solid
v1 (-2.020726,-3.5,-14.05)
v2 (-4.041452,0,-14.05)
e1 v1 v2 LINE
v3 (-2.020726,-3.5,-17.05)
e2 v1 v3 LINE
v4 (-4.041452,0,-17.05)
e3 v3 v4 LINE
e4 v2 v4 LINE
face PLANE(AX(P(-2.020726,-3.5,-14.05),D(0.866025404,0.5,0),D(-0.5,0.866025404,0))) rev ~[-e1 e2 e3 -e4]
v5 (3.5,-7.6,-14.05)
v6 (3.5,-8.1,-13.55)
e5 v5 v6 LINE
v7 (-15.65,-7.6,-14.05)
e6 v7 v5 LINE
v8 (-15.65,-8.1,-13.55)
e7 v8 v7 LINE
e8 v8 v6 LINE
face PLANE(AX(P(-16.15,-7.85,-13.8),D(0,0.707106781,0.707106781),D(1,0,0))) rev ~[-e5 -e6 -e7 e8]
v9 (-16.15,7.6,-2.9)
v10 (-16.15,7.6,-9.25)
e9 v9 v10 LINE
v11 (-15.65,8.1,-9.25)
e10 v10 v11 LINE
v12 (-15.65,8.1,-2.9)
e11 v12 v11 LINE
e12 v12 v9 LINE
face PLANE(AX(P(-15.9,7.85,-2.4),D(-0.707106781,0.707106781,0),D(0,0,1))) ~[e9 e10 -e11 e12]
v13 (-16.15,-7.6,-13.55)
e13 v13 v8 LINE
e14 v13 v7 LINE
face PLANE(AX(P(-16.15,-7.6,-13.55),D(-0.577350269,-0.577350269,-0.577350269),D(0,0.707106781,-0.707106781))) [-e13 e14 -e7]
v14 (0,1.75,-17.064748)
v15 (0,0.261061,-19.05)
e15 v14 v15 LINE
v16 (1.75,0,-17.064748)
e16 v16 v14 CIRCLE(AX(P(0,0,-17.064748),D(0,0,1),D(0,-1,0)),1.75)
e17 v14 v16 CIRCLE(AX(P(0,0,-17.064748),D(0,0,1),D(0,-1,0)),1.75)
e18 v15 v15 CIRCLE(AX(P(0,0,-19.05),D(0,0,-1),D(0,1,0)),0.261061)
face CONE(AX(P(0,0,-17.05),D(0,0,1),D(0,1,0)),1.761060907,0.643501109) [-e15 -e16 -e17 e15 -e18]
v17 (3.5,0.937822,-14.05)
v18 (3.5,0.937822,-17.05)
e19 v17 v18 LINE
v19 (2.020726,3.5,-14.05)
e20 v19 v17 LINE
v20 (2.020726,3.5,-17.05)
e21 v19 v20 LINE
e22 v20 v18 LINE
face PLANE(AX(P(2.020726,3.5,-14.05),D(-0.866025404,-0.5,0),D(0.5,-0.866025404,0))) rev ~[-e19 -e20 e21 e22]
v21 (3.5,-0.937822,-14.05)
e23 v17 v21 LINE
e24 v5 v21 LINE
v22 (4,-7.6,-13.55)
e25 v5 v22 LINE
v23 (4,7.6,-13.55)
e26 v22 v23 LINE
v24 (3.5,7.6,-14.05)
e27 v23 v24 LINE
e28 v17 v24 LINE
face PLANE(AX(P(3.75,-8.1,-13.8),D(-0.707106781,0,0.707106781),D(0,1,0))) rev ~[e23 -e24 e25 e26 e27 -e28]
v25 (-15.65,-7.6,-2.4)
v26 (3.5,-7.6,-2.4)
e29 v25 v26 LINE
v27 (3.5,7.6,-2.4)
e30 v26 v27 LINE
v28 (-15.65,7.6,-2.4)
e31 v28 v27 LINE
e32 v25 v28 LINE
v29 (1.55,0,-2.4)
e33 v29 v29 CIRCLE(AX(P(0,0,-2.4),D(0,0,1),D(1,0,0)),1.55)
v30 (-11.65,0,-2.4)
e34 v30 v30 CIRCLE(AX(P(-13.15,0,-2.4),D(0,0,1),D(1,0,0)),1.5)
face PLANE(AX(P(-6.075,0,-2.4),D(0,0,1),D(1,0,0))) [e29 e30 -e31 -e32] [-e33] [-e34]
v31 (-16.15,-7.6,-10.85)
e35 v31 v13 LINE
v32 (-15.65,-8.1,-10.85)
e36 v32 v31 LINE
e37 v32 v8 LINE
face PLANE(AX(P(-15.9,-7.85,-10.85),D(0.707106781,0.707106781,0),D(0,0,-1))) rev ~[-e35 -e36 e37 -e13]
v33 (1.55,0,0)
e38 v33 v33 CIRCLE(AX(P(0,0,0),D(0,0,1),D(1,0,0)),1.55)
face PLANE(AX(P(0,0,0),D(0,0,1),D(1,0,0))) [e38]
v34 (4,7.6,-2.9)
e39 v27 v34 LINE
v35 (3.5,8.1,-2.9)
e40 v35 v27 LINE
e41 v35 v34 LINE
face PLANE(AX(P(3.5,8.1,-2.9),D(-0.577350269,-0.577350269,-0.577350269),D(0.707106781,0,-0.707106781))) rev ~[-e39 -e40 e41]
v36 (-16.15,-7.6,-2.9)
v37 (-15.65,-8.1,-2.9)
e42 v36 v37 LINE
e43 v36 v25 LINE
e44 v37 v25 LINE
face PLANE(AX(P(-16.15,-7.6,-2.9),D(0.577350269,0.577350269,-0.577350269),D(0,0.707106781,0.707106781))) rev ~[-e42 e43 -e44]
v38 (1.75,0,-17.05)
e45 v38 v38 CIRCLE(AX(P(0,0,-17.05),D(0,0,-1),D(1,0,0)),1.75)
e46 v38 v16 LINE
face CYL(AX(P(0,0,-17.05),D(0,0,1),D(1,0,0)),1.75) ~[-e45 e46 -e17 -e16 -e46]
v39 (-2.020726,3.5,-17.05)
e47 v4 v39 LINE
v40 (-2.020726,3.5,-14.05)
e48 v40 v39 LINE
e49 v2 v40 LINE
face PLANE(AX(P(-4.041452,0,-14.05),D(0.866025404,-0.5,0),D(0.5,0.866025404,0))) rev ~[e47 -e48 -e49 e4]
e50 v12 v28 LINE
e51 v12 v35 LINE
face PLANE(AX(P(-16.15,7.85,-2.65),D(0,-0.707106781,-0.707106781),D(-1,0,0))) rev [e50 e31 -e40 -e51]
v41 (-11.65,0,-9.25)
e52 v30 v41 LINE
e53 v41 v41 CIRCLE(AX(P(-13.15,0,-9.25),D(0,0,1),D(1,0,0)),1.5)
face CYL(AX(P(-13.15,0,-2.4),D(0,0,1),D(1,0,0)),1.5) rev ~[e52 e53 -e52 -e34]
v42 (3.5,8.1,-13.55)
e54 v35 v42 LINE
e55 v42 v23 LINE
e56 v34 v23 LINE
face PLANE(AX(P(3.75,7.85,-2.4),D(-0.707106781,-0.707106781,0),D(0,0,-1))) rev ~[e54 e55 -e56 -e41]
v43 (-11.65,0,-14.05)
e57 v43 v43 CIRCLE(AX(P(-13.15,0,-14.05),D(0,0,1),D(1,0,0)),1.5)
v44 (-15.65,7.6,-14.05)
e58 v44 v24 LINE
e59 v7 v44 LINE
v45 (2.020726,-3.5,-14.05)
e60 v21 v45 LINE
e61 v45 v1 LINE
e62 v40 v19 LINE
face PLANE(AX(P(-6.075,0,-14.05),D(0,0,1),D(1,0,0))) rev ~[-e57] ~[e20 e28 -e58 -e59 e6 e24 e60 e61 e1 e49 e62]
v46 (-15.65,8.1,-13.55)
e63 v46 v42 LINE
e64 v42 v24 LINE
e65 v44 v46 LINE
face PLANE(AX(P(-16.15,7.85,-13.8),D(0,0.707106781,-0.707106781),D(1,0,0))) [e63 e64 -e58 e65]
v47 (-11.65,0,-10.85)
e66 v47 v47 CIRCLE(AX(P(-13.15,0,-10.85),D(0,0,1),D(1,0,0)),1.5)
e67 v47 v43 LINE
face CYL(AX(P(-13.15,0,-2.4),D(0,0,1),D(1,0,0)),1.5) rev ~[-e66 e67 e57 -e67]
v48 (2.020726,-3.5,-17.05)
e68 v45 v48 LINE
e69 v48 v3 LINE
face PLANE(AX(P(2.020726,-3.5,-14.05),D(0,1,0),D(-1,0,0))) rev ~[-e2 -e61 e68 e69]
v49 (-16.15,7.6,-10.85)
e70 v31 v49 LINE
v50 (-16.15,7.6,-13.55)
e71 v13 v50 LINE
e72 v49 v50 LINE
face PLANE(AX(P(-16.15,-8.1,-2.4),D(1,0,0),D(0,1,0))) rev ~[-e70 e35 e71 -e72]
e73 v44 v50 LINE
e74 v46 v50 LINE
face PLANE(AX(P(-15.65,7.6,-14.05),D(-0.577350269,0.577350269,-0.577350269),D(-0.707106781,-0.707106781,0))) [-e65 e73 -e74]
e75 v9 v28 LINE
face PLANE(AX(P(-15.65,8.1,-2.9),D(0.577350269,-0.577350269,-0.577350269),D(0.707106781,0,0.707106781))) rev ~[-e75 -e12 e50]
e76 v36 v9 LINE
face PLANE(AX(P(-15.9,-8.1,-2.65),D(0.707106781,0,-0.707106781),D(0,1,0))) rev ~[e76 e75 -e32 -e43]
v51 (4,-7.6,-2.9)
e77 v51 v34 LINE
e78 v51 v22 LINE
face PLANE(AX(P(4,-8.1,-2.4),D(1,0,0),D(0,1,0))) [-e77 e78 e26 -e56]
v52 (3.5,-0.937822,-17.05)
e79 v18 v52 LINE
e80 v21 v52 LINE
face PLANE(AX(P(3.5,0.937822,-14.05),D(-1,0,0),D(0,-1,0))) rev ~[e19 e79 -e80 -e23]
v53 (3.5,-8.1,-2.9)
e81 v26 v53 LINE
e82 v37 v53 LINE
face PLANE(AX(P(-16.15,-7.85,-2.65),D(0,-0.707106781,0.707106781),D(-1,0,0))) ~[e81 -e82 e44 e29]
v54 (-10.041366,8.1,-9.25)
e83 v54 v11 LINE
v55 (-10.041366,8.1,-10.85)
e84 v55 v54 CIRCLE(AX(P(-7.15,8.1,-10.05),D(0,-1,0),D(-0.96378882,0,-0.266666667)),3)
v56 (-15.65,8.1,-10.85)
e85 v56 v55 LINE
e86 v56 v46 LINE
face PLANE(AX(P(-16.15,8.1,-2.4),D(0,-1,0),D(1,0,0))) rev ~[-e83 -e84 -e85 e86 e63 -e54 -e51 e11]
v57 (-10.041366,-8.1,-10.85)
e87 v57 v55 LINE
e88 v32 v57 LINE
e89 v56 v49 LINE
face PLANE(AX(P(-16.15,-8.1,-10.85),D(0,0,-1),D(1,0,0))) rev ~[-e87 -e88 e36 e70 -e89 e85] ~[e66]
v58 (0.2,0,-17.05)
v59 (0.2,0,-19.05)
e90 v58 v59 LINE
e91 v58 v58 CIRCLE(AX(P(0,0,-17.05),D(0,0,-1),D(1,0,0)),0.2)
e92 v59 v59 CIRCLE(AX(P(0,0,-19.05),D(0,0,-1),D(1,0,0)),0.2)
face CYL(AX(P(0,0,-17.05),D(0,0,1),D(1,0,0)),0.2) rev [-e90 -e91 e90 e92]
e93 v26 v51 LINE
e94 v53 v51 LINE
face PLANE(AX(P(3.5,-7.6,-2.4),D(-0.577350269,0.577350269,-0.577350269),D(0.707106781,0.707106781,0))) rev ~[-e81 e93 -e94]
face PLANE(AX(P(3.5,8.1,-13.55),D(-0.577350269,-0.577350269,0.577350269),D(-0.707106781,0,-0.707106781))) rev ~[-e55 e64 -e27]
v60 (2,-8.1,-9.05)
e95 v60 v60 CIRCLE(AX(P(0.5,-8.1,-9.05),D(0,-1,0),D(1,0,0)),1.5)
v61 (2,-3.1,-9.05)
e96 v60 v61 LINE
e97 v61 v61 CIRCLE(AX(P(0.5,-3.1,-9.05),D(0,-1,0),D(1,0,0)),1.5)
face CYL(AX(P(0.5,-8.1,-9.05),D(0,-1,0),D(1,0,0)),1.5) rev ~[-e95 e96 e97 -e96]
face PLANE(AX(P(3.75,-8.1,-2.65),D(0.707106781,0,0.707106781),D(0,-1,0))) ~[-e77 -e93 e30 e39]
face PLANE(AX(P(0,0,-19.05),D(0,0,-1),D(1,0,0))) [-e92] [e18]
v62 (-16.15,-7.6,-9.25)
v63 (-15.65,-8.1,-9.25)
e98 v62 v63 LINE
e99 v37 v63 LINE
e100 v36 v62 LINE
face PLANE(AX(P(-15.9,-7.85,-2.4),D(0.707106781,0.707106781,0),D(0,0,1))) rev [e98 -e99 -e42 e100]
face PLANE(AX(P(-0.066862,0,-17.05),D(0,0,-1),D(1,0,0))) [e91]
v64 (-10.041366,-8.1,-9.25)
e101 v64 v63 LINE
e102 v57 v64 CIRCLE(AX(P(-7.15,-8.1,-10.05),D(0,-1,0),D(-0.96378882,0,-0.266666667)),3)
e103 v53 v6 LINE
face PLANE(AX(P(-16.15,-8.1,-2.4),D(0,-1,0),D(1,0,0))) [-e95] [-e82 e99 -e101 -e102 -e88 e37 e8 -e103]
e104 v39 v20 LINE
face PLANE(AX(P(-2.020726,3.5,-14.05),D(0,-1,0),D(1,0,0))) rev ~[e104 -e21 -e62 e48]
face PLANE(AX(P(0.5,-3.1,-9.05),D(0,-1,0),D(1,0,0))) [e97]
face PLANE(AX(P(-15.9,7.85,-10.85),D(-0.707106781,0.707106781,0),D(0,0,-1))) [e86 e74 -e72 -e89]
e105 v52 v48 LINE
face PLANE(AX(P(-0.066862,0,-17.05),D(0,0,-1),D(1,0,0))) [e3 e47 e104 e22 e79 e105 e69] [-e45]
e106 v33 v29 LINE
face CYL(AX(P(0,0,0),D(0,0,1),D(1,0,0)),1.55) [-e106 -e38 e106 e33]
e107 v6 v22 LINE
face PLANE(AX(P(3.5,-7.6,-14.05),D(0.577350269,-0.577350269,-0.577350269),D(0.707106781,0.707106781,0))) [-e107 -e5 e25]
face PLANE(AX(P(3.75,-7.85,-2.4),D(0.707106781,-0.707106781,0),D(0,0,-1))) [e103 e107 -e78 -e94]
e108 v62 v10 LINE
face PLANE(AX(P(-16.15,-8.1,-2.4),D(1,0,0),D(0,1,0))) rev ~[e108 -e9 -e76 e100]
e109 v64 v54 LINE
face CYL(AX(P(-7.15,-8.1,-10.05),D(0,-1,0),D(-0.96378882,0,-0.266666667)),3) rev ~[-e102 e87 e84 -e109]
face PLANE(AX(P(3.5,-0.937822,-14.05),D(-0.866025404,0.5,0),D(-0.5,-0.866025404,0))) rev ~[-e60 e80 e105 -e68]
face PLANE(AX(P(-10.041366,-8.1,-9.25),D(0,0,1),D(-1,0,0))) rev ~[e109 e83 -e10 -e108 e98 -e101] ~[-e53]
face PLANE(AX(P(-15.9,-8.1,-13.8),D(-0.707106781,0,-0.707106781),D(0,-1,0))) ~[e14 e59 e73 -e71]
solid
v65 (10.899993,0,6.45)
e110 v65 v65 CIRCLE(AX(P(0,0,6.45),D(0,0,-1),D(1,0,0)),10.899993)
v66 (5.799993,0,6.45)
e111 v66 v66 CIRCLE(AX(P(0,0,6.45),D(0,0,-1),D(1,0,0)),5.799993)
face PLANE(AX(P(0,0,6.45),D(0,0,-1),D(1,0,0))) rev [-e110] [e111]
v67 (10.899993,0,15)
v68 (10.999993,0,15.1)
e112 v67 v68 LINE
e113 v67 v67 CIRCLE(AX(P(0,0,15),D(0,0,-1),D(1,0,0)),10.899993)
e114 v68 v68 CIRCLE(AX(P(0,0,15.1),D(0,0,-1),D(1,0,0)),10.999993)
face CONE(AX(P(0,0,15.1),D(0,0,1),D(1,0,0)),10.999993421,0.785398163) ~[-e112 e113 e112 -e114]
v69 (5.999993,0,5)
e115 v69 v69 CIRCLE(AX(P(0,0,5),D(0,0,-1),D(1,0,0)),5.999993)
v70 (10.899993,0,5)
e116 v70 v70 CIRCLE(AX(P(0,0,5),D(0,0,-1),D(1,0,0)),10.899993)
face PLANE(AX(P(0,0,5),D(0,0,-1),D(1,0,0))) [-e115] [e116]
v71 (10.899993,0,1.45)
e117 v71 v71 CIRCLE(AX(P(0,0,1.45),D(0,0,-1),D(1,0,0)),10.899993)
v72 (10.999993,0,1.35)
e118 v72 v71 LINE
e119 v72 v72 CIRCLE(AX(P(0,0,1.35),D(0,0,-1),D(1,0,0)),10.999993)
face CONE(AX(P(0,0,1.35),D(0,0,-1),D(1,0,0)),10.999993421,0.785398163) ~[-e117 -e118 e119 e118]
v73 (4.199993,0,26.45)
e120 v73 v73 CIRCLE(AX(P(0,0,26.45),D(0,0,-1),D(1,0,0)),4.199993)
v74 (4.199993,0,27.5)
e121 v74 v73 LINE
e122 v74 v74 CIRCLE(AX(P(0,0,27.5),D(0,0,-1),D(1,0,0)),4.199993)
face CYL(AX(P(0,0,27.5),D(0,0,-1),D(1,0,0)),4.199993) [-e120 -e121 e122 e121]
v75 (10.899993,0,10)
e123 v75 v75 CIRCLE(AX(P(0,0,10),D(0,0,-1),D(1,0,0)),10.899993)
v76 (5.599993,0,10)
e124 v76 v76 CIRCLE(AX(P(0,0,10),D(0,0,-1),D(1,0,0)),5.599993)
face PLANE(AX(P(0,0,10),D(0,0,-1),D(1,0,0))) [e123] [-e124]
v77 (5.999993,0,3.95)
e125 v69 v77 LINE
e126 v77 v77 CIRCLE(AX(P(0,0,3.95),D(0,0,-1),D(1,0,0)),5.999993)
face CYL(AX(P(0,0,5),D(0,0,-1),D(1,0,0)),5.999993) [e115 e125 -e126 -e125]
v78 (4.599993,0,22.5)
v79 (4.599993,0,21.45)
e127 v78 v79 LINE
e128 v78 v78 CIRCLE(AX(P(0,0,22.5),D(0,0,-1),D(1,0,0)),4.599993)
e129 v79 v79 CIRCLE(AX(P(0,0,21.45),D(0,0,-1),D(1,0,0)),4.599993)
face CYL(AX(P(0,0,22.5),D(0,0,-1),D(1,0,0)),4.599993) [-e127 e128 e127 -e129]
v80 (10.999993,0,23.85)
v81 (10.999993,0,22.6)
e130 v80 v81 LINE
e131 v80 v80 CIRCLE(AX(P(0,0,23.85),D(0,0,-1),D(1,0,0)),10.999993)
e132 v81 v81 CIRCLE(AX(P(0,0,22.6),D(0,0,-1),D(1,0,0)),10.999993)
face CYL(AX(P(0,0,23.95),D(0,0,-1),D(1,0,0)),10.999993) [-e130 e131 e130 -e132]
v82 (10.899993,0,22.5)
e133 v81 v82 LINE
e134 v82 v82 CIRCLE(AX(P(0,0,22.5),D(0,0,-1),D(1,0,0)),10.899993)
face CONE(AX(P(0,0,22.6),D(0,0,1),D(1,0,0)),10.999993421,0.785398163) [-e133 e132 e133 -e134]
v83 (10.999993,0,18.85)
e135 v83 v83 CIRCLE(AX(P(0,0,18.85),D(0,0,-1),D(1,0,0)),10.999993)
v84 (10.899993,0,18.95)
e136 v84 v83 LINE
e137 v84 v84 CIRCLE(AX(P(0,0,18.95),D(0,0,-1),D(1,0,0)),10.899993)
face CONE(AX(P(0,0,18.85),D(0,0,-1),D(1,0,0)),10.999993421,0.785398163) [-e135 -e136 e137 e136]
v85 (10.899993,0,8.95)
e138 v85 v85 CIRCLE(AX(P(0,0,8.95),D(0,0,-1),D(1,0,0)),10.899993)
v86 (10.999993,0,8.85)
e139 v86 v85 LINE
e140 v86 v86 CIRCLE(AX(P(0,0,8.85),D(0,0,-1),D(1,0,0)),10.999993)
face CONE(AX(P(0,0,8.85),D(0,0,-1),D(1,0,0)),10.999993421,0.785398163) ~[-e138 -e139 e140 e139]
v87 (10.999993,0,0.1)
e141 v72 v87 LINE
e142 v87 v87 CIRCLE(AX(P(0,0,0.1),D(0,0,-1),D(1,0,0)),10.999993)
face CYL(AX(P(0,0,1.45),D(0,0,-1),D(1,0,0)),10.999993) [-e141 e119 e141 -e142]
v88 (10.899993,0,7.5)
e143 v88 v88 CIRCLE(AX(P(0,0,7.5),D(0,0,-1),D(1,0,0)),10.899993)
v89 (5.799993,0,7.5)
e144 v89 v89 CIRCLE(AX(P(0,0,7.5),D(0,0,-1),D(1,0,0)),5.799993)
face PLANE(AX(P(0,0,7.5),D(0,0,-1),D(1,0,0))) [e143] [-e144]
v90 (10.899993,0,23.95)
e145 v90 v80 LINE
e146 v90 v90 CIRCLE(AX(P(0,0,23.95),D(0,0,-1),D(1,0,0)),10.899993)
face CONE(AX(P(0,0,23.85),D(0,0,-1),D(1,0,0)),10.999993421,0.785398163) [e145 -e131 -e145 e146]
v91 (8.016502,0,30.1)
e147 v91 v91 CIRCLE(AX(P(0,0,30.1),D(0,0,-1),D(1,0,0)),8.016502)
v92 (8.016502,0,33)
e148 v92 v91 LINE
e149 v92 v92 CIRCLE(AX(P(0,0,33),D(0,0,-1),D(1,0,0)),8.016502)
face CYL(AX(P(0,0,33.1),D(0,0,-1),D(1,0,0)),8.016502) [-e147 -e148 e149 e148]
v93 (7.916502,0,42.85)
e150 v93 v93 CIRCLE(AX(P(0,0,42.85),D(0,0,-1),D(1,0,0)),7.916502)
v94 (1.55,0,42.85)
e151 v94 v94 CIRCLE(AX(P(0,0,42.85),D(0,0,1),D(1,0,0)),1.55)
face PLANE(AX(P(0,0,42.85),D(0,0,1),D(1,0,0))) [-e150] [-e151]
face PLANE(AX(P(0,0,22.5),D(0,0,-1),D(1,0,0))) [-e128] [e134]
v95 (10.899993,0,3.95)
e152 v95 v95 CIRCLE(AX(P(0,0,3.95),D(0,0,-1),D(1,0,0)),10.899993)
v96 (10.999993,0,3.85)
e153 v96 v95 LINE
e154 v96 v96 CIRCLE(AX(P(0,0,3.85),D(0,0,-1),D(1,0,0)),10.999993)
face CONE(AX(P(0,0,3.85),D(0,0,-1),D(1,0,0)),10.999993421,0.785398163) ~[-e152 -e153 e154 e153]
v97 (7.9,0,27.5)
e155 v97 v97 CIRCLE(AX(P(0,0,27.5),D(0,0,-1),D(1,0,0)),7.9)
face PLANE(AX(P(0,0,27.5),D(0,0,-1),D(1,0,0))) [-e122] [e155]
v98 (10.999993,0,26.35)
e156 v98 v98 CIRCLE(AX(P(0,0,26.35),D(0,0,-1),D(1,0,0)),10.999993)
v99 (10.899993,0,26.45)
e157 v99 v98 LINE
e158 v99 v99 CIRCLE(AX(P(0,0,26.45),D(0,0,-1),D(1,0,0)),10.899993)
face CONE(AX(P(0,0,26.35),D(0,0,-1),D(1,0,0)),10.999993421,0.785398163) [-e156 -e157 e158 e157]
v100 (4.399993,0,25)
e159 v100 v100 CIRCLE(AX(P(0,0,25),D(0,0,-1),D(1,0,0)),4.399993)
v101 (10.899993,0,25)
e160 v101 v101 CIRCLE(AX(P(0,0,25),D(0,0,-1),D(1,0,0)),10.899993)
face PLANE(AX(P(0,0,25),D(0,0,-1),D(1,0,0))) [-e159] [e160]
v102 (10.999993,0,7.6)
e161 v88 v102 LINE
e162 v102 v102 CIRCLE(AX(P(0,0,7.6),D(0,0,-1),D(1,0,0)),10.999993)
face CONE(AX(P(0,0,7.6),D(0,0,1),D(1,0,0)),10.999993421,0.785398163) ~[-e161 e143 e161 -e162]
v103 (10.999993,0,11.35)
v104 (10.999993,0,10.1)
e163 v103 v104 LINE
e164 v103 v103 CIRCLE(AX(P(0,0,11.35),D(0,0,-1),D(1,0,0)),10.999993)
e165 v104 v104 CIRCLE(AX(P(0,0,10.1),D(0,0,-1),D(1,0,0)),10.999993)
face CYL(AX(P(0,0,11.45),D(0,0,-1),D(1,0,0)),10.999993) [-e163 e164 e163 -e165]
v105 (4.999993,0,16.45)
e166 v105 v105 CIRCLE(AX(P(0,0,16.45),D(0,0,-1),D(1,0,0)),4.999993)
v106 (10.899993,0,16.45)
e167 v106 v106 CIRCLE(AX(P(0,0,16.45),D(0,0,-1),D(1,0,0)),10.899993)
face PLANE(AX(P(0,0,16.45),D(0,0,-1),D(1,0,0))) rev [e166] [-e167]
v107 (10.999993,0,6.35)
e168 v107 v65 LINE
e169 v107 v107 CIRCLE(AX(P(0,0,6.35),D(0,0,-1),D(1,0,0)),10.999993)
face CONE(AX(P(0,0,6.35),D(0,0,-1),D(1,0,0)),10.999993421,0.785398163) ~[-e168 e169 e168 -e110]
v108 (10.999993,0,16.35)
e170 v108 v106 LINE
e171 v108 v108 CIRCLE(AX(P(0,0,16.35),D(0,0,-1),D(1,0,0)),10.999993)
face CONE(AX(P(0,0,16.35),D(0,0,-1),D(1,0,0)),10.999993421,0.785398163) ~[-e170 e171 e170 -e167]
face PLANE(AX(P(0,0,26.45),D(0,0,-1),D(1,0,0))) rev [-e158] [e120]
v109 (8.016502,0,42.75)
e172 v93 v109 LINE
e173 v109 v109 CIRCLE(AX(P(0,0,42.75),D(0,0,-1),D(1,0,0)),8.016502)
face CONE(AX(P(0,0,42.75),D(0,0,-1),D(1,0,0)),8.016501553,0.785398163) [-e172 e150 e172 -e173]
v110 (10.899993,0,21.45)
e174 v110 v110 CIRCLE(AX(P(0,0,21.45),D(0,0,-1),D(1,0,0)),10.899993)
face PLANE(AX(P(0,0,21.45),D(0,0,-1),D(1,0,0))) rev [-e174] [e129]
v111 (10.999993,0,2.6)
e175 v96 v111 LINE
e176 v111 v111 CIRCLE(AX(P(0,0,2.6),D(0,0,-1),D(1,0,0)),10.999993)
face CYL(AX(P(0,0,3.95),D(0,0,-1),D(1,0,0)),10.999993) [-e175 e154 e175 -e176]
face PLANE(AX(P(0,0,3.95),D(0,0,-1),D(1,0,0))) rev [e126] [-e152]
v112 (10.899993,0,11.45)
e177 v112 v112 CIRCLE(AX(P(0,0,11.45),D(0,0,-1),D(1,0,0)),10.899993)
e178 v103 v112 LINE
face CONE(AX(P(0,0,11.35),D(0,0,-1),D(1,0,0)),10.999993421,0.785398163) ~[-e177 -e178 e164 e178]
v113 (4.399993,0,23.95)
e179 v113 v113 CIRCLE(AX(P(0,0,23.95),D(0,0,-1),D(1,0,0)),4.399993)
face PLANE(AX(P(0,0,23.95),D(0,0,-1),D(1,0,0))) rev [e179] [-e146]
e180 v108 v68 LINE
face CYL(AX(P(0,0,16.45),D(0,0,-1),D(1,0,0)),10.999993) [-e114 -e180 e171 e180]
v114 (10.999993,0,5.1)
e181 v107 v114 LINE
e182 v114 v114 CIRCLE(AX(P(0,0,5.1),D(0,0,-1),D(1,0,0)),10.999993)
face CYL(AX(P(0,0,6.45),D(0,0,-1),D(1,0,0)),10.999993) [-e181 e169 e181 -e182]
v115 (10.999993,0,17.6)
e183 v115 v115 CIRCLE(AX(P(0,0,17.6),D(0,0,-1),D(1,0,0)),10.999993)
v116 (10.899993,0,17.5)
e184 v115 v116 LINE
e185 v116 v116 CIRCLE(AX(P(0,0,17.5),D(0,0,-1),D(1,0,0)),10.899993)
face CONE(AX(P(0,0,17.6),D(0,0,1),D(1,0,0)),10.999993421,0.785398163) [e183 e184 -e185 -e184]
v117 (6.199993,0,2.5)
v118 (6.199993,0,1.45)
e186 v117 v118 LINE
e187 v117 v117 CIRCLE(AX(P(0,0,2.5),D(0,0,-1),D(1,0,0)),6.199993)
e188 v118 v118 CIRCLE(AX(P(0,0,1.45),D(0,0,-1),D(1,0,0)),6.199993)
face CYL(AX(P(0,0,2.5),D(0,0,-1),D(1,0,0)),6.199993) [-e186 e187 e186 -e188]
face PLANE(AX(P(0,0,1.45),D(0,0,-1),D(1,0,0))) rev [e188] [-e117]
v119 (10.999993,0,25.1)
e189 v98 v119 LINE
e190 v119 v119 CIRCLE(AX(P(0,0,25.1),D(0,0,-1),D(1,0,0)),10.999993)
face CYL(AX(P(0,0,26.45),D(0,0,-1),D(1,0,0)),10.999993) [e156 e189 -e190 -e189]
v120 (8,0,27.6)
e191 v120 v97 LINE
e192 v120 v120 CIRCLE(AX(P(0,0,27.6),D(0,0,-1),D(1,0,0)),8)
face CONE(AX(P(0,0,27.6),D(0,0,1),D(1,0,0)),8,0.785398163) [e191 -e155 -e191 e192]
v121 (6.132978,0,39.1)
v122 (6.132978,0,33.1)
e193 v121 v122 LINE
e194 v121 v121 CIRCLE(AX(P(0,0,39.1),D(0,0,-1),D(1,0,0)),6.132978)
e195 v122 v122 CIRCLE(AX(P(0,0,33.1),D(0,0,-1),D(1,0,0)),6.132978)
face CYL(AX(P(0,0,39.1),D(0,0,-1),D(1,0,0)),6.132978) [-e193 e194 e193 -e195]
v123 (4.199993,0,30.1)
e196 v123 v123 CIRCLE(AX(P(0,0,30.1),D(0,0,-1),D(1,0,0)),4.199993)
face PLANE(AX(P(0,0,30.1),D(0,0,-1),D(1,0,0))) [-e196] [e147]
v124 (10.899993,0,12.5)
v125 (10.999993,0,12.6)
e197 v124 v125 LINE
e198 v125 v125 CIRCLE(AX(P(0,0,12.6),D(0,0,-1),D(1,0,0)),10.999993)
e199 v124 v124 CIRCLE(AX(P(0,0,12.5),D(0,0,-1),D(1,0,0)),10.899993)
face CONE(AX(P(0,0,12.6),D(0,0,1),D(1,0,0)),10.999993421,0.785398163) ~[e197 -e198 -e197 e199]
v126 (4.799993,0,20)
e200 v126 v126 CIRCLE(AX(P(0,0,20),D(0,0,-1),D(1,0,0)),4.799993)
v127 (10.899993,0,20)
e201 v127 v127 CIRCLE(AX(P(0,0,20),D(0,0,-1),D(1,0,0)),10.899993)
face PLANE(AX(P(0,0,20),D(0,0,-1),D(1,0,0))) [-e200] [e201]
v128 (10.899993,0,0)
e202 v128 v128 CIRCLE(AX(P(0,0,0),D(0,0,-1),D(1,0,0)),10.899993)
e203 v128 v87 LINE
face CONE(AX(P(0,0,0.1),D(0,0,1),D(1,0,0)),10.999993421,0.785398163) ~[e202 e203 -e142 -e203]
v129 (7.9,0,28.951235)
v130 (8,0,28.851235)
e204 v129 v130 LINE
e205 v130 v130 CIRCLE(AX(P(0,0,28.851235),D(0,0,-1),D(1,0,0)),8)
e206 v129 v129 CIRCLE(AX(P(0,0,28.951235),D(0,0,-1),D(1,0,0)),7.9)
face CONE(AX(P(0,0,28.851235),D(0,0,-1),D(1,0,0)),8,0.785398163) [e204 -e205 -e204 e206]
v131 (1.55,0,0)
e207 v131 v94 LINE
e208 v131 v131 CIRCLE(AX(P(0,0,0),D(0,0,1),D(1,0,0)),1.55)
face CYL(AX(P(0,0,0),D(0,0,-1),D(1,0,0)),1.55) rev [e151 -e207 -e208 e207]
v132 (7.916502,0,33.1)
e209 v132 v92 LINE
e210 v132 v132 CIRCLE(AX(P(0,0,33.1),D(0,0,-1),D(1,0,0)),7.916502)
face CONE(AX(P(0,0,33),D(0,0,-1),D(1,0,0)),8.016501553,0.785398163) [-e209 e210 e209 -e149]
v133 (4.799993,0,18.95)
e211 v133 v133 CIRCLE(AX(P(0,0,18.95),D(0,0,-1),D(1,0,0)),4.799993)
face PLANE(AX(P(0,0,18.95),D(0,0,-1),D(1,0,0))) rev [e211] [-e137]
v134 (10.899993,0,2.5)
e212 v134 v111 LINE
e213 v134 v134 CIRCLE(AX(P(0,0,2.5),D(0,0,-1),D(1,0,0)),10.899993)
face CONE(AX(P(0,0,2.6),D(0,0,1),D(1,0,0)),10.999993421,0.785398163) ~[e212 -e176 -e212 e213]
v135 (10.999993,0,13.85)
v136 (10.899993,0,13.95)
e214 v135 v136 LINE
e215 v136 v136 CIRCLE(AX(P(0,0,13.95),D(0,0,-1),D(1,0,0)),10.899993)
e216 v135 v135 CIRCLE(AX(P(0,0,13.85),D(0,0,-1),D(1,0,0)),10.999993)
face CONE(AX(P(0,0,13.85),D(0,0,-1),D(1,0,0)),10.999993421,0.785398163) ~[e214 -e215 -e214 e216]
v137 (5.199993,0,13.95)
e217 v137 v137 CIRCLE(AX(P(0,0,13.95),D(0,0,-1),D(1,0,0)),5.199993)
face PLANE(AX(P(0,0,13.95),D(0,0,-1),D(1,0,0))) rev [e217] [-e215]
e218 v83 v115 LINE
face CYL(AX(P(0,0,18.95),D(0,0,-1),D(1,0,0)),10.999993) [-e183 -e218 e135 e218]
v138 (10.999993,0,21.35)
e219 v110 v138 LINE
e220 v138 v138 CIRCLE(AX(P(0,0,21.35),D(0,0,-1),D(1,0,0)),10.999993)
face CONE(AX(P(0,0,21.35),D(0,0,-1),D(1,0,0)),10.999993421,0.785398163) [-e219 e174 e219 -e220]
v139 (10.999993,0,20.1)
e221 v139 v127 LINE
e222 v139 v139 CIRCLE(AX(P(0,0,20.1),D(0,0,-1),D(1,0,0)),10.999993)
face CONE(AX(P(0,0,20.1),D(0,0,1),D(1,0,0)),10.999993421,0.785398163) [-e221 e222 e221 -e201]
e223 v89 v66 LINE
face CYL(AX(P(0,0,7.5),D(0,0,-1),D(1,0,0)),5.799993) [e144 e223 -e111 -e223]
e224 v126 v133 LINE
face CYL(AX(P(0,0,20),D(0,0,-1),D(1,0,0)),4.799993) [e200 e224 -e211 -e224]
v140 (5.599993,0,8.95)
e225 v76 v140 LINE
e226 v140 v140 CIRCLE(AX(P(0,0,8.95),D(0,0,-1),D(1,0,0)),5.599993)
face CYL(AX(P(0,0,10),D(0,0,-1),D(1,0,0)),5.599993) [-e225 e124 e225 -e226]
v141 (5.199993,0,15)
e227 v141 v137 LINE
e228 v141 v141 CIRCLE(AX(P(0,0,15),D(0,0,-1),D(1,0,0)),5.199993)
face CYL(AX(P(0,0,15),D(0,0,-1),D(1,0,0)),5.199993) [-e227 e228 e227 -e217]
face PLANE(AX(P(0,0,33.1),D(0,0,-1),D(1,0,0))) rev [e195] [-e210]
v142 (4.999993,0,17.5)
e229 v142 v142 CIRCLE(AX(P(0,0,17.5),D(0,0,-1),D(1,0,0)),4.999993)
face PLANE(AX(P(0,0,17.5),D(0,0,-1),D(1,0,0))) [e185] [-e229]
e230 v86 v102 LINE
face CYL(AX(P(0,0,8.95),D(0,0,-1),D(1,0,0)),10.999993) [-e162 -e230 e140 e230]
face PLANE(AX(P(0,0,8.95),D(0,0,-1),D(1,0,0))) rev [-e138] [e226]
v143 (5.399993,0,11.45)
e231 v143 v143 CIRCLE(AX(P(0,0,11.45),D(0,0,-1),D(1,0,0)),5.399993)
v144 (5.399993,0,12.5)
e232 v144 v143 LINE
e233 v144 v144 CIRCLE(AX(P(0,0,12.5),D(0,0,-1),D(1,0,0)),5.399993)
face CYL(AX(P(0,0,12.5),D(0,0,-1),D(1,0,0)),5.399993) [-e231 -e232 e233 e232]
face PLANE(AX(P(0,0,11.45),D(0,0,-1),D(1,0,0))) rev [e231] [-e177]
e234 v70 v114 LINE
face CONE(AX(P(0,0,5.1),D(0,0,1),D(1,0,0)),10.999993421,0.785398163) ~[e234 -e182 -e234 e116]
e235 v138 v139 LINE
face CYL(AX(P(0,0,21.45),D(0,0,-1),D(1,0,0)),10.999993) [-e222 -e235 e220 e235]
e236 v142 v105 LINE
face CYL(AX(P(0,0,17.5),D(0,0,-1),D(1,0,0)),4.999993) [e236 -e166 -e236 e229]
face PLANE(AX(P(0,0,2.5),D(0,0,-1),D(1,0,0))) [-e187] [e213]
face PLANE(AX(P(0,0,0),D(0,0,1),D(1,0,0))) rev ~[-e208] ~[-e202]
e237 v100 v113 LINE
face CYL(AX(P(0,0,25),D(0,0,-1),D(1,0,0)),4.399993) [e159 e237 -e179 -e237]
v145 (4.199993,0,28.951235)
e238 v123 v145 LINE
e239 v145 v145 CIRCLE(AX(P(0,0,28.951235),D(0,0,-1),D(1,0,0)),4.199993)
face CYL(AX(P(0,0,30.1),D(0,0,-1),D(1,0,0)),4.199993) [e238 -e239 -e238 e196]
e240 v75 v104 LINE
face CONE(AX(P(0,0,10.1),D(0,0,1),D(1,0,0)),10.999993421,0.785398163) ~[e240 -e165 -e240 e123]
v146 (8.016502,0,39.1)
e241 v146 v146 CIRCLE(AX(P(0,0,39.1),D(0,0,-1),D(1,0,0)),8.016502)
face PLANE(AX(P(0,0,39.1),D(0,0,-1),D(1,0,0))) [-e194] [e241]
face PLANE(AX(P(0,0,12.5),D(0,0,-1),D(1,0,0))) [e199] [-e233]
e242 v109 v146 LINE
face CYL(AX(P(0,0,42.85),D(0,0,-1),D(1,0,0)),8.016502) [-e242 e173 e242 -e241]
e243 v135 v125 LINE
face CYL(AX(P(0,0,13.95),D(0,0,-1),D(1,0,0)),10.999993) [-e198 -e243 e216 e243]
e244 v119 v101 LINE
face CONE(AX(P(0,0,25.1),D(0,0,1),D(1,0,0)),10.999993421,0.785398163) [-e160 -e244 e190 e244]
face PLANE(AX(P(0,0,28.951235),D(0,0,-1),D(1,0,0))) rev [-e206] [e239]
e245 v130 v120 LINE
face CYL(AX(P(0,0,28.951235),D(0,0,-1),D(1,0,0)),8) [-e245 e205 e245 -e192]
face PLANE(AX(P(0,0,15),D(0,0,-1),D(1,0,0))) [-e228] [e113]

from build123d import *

# Parameters (mm, degrees)
F0_R      = 11
F0_R_2    = 1.55
F1_DEPTH  = 42.85
F4_SIZE   = 0.1
F6_DEPTH  = 2.4
F7_W      = 20.15
F7_H      = 16.2
F7_R      = 1.5
F8_DEPTH  = 11.65
F9_R      = 1.5
F10_DEPTH = 5
F11_DEPTH = 16.2
F12_SIZE  = 0.5
F14_DEPTH = 3
F15_R     = 1.75
F15_R_2   = 0.2
F16_DEPTH = 2


with BuildPart() as f1:
    # F0 (on Top) → F1 (new body)
    with BuildSketch(Plane.XY):
        Circle(F0_R)
        Circle(F0_R_2, mode=Mode.SUBTRACT)
    extrude(amount=F1_DEPTH)

    # F2 (on Front) → F3 (revolve, cut)
    with BuildSketch(Plane.XZ):
        Polygon((10.9999934211, 1.45), (10.9999934211, 0), (14.4045054913, 0), (14.4045054913, 42.85), (8.0165015534, 42.85), (8.0165015534, 39.1), (6.1329784803, 39.1), (6.1329784803, 33.1), (8.0165015534, 33.1), (8.0165015534, 30.1), (4.1999934211, 30.1), (4.1999934211, 28.9512349205), (8, 28.9512349205), (8, 27.5), (4.1999934211, 27.5), (4.1999934211, 26.45), (10.9999934211, 26.45), (10.9999934211, 25), (4.3999934211, 25), (4.3999934211, 23.95), (10.9999934211, 23.95), (10.9999934211, 22.5), (4.5999934211, 22.5), (4.5999934211, 21.45), (10.9999934211, 21.45), (10.9999934211, 20), (4.7999934211, 20), (4.7999934211, 18.95), (10.9999934211, 18.95), (10.9999934211, 17.5), (4.9999934211, 17.5), (4.9999934211, 16.45), (10.9999934211, 16.45), (10.9999934211, 15), (5.1999934211, 15), (5.1999934211, 13.95), (10.9999934211, 13.95), (10.9999934211, 12.5), (5.3999934211, 12.5), (5.3999934211, 11.45), (10.9999934211, 11.45), (10.9999934211, 10), (5.5999934211, 10), (5.5999934211, 8.95), (10.9999934211, 8.95), (10.9999934211, 7.5), (5.7999934211, 7.5), (5.7999934211, 6.45), (10.9999934211, 6.45), (10.9999934211, 5), (5.9999934211, 5), (5.9999934211, 3.95), (10.9999934211, 3.95), (10.9999934211, 2.5), (6.1999934211, 2.5), (6.1999934211, 1.45), align=None)
    revolve(axis=Axis((0, 0, 0), (0, 0, -1)), mode=Mode.SUBTRACT)

    # F4
    f4_edges = [f1.edges().sort_by_distance(p)[0] for p in [
        (-8.016502, 0, 42.85),
        (-8.016502, 0, 33.1),
        (-8, 0, 28.951235),
        (-8, 0, 27.5),
        (-10.999993, 0, 26.45),
        (-10.999993, 0, 25),
        (-10.999993, 0, 23.95),
        (-10.999993, 0, 22.5),
        (-10.999993, 0, 21.45),
        (-10.999993, 0, 20),
        (-10.999993, 0, 18.95),
        (-10.999993, 0, 17.5),
        (-10.999993, 0, 16.45),
        (-10.999993, 0, 15),
        (-10.999993, 0, 13.95),
        (-10.999993, 0, 12.5),
        (-10.999993, 0, 11.45),
        (-10.999993, 0, 10),
        (-10.999993, 0, 8.95),
        (-10.999993, 0, 7.5),
        (-10.999993, 0, 6.45),
        (-10.999993, 0, 5),
        (-10.999993, 0, 3.95),
        (-10.999993, 0, 2.5),
        (-10.999993, 0, 1.45),
        (-10.999993, 0, 0),
    ]]
    chamfer(f4_edges, length=F4_SIZE)

    # F0 (on Top) → F6 (join)
    with BuildSketch(Plane.XY):
        Circle(F0_R_2)
    extrude(amount=-F6_DEPTH)

    # F7 (on offset) → F8 (join)
    with BuildSketch(Plane.XY.offset(-2.4)):
        with Locations((-6.075, 0)):
            Rectangle(F7_W, F7_H)
        with Locations((-13.15, 0)):
            Circle(F7_R, mode=Mode.SUBTRACT)
    extrude(amount=-F8_DEPTH)

    # F9 (on face) → F10 (cut)
    with BuildSketch(Plane.XZ.offset(8.1)):
        with Locations((0.5, -9.05)):
            Circle(F9_R)
    extrude(amount=-F10_DEPTH, mode=Mode.SUBTRACT)

    # F9 (on face) → F11 (cut, through all)
    with BuildSketch(Plane.XZ.offset(8.1)):
        with BuildLine():
            Line((-16.15, -10.85), (-10.041366459, -10.85))
            ThreePointArc((-10.041366459, -10.85), (-4.15, -10.05), (-10.041366459, -9.25))
            Line((-10.041366459, -9.25), (-16.15, -9.25))
            Line((-16.15, -9.25), (-16.15, -10.85))
        make_face()
    extrude(amount=-F11_DEPTH, mode=Mode.SUBTRACT)

    # F12
    f12_edges = [f1.edges().sort_by_distance(p)[0] for p in [
        (4, -8.1, -8.225),
        (-6.075, -8.1, -2.4),
        (-6.075, -8.1, -14.05),
        (4, 0, -14.05),
        (4, 0, -2.4),
        (-16.15, -8.1, -5.825),
        (-16.15, -8.1, -12.45),
        (-16.15, 0, -2.4),
        (-16.15, 8.1, -5.825),
        (-16.15, 8.1, -12.45),
        (-6.075, 8.1, -2.4),
        (4, 8.1, -8.225),
        (-6.075, 8.1, -14.05),
        (-16.15, 0, -14.05),
    ]]
    chamfer(f12_edges, length=F12_SIZE)

    # F13 (on face) → F14 (join)
    with BuildSketch(Plane(origin=(0, 0, -14.05), x_dir=(1, 0, 0), z_dir=(0, 0, -1))):
        Polygon((-2.0207259422, -3.5), (2.0207259422, -3.5), (3.5, -0.9378221735), (3.5, 0.9378221735), (2.0207259422, 3.5), (-2.0207259422, 3.5), (-4.0414518843, 0), align=None)
    extrude(amount=F14_DEPTH)

    # F15 (on face) → F16 (join)
    with BuildSketch(Plane(origin=(0, 0, -17.05), x_dir=(1, 0, 0), z_dir=(0, 0, -1))):
        Circle(F15_R)
        Circle(F15_R_2, mode=Mode.SUBTRACT)
    extrude(amount=F16_DEPTH)

    # F17 (on Right) → F18 (revolve, cut)
    with BuildSketch(Plane.YZ):
        Polygon((1.7610609066, -19.05), (1.7610609066, -17.05), (0.2610609066, -19.05), align=None)
    revolve(axis=Axis((0, 0, -19.05), (0, 0, -1)), mode=Mode.SUBTRACT)


solid = f1.part
